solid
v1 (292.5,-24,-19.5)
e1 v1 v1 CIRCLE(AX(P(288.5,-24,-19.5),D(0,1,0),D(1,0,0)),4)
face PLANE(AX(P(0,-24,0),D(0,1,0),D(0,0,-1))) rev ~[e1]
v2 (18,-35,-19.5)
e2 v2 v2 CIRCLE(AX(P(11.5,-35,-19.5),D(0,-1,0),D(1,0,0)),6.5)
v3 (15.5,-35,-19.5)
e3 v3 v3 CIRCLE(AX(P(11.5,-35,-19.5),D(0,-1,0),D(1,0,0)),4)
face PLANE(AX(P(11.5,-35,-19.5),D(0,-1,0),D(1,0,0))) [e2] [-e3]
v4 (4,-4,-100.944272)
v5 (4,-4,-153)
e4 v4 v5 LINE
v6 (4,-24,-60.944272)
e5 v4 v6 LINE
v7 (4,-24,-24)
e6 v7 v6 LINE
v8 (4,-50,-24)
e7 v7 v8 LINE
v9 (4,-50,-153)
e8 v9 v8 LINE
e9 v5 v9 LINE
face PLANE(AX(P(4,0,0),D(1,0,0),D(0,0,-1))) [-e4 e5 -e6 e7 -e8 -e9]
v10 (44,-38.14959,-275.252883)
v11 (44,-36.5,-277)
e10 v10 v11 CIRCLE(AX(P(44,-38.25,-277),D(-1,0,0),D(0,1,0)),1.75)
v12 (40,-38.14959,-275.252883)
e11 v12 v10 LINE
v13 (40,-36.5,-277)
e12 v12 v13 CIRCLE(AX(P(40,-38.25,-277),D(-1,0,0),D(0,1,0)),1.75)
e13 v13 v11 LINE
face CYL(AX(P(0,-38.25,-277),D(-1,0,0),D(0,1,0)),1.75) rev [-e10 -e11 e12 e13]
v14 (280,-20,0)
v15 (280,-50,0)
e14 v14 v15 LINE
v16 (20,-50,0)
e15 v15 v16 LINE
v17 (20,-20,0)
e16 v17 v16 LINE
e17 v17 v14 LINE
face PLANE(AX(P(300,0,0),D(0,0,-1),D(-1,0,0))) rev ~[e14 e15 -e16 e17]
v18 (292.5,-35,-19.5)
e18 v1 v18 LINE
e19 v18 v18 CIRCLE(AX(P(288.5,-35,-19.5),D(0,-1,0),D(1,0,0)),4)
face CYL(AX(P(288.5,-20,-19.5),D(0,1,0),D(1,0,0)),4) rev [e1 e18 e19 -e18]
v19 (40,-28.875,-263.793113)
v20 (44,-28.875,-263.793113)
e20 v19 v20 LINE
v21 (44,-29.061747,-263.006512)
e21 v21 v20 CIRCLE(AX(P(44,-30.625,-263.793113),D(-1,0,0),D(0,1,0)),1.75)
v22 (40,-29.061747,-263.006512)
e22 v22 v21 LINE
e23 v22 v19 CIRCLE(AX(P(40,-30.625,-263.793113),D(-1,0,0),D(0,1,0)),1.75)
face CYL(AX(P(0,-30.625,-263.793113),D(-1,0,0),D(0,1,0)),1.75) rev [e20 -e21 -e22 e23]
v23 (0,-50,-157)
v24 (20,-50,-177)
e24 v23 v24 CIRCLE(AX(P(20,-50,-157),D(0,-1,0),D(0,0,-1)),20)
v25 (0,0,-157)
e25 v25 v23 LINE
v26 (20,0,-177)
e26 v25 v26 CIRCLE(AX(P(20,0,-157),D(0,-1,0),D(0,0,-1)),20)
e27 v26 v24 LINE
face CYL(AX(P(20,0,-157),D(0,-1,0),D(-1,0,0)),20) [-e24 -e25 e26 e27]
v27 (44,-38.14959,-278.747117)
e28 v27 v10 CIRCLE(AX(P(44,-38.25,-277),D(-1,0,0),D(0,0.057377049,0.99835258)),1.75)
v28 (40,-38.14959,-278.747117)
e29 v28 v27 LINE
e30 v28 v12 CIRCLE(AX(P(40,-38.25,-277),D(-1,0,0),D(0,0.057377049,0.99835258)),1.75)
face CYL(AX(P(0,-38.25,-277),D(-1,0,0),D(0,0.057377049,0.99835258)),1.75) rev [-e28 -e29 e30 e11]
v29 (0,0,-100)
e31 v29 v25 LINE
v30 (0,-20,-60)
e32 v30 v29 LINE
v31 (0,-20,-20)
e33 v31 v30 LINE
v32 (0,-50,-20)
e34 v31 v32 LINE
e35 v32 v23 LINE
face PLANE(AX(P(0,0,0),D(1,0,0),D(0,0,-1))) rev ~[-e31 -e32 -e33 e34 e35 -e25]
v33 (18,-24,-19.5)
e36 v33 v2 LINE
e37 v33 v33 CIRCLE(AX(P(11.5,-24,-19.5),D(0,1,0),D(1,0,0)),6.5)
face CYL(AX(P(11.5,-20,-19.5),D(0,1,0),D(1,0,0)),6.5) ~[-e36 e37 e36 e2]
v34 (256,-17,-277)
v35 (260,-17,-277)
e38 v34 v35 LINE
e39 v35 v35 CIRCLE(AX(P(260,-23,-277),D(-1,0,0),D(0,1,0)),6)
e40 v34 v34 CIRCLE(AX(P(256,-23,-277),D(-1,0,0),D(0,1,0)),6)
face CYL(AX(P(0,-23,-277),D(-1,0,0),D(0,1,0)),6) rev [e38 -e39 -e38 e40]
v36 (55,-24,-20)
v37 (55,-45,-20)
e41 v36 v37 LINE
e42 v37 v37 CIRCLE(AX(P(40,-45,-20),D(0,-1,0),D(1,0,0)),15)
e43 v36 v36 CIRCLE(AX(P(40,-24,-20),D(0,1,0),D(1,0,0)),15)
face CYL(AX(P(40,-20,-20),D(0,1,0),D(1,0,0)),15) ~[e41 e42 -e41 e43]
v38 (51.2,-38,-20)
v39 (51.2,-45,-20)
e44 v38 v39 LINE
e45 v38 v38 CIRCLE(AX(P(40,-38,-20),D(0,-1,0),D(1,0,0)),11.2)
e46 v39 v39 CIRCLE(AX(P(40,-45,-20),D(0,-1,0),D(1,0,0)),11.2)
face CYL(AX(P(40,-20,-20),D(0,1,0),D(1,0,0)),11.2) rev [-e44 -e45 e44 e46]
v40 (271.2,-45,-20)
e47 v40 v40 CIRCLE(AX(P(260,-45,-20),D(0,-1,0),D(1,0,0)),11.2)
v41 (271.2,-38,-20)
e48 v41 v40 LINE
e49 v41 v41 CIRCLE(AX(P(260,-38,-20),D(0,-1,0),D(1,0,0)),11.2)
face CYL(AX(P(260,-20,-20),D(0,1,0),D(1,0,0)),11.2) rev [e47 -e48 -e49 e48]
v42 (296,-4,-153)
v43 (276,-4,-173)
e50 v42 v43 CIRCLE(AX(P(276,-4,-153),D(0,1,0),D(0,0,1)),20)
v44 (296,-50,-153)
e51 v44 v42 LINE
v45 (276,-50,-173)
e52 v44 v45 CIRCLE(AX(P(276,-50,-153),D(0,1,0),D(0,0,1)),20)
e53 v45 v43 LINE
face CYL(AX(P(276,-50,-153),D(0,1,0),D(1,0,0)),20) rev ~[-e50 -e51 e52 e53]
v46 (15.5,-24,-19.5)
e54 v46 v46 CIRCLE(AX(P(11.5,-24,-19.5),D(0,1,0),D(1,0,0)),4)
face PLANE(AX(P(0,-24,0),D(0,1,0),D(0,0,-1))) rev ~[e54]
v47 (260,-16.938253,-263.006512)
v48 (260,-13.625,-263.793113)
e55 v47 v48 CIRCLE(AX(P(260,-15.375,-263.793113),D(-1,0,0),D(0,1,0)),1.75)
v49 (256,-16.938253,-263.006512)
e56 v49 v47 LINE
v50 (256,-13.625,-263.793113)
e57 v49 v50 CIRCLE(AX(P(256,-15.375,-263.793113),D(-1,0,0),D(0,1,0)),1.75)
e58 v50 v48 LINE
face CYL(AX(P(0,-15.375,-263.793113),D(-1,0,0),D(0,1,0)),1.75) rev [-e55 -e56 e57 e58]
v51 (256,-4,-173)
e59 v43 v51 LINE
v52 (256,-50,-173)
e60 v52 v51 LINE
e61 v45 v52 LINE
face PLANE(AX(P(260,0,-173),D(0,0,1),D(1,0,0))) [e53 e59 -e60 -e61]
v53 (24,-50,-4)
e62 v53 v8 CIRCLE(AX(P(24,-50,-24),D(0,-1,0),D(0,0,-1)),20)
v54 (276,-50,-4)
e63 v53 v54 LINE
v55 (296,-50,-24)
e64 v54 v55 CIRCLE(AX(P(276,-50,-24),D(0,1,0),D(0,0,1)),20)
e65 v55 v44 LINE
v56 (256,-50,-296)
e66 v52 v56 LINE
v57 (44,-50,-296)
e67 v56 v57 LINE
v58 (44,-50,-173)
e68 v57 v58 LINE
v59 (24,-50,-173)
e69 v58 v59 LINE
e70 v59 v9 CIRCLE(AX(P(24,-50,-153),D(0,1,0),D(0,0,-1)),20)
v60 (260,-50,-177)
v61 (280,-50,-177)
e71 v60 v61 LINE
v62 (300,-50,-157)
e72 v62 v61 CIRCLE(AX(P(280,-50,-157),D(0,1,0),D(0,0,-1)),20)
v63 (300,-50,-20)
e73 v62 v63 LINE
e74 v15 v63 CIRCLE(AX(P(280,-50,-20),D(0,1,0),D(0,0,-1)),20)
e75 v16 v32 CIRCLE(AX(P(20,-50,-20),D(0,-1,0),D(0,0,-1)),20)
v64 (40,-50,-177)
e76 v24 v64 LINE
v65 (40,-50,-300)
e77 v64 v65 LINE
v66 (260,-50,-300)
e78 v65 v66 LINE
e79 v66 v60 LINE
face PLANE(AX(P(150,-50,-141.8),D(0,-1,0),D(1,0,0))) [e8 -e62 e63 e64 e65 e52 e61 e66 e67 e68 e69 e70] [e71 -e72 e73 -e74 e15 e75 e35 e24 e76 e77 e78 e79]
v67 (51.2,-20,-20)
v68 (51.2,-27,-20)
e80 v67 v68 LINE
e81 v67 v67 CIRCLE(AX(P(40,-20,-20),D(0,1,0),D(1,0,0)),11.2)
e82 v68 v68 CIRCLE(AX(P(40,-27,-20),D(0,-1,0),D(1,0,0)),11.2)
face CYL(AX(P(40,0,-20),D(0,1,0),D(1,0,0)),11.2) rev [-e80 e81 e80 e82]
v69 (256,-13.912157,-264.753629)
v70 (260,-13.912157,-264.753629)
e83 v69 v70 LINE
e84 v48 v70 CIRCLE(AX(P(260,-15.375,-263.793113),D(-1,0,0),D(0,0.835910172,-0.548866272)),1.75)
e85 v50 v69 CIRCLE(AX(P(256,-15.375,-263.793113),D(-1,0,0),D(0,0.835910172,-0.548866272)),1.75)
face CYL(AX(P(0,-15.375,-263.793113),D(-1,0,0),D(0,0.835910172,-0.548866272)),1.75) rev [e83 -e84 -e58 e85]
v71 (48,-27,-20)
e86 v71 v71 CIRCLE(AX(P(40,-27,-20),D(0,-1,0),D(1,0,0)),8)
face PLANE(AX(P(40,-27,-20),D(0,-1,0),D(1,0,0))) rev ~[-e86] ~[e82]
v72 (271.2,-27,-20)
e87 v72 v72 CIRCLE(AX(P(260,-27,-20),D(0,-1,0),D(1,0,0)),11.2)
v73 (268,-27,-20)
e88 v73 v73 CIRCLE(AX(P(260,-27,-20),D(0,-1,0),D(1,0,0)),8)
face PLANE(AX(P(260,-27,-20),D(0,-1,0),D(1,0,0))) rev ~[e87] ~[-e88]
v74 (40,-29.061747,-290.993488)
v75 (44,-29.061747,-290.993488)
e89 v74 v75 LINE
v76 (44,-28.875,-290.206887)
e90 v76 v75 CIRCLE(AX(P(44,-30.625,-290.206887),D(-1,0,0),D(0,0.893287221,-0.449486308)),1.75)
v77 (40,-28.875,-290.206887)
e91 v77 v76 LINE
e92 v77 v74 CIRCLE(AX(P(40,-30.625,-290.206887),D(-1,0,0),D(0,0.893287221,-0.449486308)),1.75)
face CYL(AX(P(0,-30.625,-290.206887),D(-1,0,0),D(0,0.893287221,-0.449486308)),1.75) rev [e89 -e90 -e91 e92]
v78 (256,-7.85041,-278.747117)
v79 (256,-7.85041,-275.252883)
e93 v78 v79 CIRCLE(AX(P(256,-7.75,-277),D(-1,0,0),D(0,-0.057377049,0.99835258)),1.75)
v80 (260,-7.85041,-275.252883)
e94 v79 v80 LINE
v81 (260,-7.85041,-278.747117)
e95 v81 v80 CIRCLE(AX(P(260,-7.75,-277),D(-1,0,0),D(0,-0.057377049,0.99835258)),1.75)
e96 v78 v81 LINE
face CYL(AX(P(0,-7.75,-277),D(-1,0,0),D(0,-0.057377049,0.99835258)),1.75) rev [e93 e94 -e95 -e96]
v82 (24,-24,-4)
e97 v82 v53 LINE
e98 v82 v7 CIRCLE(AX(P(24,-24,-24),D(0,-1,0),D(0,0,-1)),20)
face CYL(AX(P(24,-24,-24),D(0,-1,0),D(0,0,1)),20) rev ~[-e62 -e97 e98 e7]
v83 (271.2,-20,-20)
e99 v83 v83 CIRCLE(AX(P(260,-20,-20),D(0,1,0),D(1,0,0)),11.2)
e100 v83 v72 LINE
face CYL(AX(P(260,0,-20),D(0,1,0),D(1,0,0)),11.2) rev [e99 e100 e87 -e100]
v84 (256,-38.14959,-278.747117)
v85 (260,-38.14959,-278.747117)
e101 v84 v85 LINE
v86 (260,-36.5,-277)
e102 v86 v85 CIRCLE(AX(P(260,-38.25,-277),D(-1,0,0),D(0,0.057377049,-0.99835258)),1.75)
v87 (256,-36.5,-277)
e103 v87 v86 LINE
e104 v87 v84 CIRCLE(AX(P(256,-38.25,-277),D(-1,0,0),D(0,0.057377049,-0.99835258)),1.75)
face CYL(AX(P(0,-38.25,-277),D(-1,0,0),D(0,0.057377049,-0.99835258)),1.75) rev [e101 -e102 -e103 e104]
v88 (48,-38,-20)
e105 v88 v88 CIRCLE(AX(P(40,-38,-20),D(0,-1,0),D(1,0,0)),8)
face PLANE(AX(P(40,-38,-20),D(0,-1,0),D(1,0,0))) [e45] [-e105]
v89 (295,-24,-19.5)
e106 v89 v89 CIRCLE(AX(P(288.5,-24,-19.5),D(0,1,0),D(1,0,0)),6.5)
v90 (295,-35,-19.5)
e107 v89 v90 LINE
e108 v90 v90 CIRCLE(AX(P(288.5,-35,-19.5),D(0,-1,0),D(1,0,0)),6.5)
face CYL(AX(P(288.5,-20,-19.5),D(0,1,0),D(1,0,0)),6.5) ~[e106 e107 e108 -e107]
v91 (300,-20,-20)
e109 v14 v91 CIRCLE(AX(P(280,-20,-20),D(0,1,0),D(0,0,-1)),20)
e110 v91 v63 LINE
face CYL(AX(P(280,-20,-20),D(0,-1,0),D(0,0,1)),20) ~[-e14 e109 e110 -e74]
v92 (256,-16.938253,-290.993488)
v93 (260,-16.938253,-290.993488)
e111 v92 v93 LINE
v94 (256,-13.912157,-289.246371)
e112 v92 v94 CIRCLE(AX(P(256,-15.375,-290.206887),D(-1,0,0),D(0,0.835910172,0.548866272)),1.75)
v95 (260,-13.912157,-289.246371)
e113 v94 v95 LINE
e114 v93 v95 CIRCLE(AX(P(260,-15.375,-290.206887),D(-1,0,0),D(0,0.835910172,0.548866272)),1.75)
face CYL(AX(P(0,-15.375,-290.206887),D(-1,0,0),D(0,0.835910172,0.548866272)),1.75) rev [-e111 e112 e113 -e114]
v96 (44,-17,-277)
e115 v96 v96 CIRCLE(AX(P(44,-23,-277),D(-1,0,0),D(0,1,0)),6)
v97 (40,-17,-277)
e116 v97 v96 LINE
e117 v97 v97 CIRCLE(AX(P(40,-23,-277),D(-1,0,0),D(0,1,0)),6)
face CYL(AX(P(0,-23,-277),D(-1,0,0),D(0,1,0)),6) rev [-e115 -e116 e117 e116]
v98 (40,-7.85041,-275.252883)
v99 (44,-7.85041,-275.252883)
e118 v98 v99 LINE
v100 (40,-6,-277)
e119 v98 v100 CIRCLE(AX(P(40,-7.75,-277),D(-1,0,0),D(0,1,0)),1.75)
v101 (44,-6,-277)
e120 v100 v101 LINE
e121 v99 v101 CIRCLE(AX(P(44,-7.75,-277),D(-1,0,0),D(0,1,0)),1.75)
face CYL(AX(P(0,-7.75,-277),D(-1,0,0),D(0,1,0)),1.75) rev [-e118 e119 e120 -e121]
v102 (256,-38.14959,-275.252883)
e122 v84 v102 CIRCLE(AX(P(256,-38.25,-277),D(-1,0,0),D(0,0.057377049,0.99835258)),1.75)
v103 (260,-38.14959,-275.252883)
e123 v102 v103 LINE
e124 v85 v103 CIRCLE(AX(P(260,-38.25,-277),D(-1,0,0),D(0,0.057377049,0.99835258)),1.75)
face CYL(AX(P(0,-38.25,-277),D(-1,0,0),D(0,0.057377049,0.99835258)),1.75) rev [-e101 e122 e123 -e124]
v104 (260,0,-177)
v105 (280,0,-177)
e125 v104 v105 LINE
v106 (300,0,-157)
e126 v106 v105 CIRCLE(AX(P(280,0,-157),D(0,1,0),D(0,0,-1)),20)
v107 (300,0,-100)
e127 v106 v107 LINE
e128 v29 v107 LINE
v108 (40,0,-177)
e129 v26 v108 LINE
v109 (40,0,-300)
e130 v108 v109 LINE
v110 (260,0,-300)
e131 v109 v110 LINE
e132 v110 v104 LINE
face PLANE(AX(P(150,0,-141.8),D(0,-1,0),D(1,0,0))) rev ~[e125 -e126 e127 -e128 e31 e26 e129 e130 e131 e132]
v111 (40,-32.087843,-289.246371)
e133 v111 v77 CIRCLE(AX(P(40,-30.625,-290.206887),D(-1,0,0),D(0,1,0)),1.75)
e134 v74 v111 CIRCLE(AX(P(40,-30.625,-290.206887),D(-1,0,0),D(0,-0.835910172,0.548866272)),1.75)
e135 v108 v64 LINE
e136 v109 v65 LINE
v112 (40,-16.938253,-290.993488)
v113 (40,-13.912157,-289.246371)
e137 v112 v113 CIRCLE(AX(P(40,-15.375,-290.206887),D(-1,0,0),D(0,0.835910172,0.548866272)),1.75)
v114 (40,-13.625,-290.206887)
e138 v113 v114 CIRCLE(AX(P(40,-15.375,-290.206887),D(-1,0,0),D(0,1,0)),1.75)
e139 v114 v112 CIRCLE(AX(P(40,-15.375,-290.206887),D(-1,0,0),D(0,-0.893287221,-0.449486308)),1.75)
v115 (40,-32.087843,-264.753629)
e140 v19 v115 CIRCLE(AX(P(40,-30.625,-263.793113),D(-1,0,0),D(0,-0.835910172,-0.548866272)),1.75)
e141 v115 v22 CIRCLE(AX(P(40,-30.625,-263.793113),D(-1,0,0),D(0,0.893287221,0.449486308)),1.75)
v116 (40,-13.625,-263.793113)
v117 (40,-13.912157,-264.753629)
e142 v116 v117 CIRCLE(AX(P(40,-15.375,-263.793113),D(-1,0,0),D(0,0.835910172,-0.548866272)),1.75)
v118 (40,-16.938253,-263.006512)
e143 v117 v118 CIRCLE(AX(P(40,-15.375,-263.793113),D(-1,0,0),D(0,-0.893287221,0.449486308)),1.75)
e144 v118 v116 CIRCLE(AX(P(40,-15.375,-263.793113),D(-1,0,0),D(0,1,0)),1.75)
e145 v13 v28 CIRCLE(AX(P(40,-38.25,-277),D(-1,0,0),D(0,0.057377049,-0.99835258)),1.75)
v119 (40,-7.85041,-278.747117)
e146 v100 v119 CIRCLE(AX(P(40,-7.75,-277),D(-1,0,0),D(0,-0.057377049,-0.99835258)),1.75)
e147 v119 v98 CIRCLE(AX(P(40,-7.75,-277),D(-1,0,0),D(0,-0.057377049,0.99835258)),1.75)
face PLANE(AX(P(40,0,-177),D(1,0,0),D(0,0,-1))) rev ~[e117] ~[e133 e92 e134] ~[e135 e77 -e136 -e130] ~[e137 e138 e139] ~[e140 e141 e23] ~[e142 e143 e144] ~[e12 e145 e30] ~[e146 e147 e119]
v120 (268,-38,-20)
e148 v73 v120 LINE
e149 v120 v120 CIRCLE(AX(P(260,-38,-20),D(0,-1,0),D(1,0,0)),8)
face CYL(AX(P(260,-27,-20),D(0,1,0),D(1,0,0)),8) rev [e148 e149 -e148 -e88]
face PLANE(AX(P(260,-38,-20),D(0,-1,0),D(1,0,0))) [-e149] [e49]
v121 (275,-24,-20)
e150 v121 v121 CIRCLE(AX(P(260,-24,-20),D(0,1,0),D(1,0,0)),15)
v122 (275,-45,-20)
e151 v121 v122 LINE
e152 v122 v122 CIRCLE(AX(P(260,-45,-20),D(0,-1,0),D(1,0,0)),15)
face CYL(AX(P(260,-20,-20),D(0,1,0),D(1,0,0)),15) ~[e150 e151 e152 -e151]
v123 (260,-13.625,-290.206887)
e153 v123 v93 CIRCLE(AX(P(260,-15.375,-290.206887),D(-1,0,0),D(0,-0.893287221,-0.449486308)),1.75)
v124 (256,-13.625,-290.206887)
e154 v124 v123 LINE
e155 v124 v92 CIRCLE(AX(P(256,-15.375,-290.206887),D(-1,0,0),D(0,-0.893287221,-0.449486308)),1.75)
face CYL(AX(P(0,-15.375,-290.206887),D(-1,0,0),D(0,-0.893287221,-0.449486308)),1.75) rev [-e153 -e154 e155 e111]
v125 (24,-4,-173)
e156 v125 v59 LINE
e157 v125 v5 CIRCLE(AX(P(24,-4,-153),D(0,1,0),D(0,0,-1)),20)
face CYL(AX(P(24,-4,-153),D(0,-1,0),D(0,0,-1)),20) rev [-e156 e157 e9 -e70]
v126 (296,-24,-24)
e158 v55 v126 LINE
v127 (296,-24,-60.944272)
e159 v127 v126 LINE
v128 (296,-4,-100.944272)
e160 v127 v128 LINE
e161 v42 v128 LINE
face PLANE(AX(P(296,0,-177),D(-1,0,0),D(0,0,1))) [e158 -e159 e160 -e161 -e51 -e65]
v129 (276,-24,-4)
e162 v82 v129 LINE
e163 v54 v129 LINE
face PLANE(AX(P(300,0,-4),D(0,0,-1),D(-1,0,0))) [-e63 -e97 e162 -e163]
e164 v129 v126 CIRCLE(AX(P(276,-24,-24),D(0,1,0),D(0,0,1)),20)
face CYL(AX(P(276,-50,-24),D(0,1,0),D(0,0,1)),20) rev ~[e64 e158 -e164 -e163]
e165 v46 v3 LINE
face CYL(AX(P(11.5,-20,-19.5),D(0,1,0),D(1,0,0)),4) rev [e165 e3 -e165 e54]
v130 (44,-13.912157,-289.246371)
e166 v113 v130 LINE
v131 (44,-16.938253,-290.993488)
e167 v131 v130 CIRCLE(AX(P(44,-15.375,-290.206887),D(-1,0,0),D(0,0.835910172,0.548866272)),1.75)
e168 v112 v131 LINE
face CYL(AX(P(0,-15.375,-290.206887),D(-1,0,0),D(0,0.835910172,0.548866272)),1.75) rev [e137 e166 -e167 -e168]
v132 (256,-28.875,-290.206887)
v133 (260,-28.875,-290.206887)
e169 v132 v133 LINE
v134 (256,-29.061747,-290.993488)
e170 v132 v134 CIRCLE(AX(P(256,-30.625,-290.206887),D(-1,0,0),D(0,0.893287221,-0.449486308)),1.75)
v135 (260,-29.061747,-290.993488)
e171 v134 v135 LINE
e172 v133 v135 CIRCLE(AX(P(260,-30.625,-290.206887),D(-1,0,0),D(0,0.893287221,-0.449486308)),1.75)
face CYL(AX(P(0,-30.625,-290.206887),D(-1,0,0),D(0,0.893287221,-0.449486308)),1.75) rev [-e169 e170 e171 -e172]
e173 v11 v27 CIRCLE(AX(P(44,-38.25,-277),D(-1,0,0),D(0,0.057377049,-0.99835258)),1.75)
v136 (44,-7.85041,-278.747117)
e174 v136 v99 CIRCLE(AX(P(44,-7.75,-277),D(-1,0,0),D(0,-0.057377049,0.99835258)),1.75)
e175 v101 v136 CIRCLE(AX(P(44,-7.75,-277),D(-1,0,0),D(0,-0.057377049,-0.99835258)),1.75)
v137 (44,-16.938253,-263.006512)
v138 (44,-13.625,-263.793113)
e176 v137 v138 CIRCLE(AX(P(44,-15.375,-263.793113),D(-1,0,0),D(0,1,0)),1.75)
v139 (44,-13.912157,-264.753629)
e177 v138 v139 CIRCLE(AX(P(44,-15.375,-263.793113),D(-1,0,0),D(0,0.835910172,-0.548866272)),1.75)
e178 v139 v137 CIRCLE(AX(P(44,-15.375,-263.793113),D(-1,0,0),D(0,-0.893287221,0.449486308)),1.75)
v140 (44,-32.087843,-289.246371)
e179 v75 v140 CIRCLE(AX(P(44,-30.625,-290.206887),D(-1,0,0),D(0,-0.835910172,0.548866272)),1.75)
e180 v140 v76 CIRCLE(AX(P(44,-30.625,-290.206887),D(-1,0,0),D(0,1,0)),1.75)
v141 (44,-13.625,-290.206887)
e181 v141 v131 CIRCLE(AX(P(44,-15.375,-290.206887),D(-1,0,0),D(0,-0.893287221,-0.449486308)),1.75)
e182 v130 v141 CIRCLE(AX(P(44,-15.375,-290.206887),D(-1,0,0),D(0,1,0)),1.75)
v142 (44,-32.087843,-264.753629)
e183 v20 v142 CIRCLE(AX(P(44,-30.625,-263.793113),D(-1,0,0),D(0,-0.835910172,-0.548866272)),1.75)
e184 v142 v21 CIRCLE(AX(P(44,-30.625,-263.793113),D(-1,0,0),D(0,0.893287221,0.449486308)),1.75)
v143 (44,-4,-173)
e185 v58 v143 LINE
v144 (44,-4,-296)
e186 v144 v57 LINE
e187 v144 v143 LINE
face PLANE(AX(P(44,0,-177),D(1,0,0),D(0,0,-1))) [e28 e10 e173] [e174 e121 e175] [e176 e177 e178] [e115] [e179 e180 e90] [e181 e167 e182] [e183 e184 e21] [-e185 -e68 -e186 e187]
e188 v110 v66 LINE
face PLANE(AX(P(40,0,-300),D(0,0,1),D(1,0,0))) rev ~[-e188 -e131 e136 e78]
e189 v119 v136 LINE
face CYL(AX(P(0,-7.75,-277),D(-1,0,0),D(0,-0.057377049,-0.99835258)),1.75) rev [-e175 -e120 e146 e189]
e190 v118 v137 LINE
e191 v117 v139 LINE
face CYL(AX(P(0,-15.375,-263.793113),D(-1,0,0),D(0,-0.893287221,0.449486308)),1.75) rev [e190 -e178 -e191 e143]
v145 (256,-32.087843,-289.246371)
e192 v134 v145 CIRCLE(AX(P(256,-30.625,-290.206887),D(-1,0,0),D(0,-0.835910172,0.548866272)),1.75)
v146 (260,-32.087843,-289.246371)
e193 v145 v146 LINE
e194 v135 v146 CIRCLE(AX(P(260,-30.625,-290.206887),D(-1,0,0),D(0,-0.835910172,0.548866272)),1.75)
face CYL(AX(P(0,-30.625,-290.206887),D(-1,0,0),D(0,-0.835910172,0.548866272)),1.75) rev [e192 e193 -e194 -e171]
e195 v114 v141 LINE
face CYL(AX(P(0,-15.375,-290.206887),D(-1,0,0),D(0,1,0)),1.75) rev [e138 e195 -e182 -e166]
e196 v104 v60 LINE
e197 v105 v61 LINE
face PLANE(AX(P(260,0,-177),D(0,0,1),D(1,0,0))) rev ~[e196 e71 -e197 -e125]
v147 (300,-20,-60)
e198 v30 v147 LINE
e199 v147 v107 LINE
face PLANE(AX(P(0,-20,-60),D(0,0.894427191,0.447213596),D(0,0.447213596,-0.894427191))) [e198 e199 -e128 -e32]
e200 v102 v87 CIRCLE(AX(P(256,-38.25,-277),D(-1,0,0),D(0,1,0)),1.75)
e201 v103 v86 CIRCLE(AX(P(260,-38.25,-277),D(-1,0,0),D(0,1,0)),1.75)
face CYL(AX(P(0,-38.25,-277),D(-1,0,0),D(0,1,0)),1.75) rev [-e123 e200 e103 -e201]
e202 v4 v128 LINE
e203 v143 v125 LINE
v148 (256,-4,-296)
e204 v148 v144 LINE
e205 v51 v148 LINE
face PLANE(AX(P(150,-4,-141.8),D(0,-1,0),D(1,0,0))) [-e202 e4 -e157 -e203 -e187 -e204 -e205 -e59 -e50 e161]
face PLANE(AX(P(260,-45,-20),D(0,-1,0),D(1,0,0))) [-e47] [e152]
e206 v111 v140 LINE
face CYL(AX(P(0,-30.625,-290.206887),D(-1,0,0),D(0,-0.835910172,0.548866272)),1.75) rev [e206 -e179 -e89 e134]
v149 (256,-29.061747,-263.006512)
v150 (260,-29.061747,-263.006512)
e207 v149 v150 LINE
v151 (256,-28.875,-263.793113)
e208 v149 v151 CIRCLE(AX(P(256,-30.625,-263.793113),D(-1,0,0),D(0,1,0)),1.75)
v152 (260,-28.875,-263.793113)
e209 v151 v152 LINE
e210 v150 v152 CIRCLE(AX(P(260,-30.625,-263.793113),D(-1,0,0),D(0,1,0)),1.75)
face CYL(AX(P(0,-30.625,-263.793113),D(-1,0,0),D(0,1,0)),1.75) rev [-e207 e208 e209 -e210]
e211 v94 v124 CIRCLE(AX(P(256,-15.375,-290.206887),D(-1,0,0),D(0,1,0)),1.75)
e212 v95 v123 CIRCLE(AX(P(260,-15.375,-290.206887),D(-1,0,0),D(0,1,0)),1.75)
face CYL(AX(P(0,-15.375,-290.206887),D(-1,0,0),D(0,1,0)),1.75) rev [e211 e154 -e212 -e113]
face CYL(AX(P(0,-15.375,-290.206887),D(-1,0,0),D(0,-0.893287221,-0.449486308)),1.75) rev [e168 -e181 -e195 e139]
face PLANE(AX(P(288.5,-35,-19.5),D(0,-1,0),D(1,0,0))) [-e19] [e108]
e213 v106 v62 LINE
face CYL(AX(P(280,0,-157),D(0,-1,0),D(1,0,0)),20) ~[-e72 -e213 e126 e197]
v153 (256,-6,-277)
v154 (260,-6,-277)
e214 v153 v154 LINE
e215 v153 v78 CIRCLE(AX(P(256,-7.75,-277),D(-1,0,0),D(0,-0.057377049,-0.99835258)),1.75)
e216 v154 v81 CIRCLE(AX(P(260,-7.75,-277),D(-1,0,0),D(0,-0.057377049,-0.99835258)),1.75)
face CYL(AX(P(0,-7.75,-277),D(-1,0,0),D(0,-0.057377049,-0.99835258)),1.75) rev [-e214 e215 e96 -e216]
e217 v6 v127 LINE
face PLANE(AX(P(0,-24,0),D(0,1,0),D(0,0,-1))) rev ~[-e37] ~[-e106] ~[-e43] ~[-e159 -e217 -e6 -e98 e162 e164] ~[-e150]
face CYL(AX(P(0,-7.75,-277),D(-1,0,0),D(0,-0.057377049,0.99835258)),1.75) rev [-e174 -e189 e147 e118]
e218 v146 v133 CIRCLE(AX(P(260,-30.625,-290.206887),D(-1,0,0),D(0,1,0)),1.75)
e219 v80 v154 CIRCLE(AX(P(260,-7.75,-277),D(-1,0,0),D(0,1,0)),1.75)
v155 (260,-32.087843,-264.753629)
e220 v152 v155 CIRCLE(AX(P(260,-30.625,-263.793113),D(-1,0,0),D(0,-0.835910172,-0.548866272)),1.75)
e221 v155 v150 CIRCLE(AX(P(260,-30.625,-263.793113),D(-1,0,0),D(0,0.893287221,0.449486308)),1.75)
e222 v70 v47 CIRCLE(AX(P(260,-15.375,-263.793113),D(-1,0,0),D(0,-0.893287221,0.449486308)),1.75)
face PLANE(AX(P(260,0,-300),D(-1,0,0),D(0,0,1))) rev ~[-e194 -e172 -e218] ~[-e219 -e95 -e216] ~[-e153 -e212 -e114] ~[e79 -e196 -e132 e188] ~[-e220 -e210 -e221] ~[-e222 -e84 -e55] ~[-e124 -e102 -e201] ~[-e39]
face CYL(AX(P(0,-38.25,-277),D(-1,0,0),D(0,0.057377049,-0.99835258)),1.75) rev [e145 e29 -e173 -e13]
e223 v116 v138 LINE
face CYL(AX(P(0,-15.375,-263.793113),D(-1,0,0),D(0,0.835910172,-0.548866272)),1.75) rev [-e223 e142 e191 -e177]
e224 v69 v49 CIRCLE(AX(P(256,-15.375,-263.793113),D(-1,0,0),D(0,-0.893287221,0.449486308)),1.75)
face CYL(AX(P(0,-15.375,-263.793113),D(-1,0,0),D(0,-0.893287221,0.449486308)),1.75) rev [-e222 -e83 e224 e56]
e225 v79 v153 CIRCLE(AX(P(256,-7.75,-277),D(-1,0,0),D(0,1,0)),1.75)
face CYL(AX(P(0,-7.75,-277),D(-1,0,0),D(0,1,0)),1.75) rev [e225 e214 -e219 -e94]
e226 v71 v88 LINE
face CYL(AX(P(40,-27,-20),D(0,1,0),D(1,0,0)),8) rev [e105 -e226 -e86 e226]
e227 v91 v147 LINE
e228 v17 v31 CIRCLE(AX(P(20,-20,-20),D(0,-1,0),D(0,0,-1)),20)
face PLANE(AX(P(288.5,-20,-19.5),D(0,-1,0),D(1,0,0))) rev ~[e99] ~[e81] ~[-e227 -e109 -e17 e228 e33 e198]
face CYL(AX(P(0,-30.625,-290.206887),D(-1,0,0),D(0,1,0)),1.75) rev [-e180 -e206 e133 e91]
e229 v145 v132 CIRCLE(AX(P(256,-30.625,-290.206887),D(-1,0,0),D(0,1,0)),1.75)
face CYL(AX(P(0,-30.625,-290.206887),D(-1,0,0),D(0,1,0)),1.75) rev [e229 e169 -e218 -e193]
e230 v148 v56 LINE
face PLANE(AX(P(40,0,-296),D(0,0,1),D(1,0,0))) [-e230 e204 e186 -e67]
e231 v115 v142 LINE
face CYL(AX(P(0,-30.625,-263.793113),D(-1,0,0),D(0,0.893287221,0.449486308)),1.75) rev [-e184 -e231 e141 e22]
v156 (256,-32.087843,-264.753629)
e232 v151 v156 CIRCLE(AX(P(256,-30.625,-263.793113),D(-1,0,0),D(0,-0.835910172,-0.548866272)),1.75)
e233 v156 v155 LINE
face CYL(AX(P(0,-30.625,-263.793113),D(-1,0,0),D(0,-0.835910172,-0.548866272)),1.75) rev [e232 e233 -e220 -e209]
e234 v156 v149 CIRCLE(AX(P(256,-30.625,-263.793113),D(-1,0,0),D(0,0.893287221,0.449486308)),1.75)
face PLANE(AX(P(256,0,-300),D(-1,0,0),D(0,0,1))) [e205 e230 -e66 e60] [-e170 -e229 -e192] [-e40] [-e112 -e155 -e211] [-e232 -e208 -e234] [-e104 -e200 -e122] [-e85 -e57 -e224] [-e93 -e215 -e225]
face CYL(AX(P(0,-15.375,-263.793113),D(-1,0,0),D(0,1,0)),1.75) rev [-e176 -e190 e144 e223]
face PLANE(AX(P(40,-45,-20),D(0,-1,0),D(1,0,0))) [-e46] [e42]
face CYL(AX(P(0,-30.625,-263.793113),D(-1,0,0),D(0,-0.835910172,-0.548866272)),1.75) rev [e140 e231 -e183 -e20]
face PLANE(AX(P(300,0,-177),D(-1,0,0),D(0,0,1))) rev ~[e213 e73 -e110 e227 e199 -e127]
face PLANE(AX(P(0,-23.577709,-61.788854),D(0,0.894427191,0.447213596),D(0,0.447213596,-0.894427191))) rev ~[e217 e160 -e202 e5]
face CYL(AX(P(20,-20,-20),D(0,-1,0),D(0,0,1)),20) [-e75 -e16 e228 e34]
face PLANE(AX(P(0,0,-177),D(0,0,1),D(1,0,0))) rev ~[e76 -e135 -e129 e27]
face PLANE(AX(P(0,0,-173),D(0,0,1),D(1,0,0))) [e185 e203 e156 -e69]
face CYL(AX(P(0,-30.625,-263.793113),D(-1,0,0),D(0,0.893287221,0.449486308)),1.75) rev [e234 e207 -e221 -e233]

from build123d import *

# Parameters (mm, degrees)
F1_DEPTH  = 50
F3_DEPTH  = 333
F4_T      = -4
F5_R      = 6
F6_DEPTH  = 302.7
F7_R      = 20
F9_START  = 20
F8_R      = 15
F8_R_2    = 11.2
F9_DEPTH  = 25
F10_START = 27
F8_R_3    = 8
F10_DEPTH = 11
F11_DEPTH = 117.9
F12_DEPTH = 24
F14_START = 20
F13_R     = 6.5
F13_R_2   = 4
F14_DEPTH = 15


with BuildPart() as f1:
    # F0 (on Front) → F1 (new body)
    with BuildSketch(Plane.XZ):
        Polygon((300, 0), (0, 0), (0, -177), (40, -177), (40, -300), (260, -300), (260, -177), (300, -177), align=None)
    extrude(amount=F1_DEPTH)

    # F2 (on Right) → F3 (cut)
    with BuildSketch(Plane.YZ):
        Polygon((0, 0), (-20, 0), (-20, -60), (0, -100), align=None)
    extrude(amount=F3_DEPTH, mode=Mode.SUBTRACT)

    # F4
    f4_openings = [f1.faces().sort_by_distance(p)[0] for p in [
        (150, -50, -139.136228),
    ]]
    offset(amount=F4_T, openings=f4_openings, kind=Kind.INTERSECTION)

    # F5 (on Right) → F6 (cut)
    with BuildSketch(Plane.YZ):
        with BuildLine():
            ThreePointArc((-7.8504098361, -275.2528829848), (-7.7751231532, -276.125), (-7.75, -277))
            ThreePointArc((-7.75, -277), (-7.7751231532, -277.875), (-7.8504098361, -278.7471170152))
            ThreePointArc((-7.8504098361, -278.7471170152), (-6.5485877504, -278.2724419855), (-6, -277))
            ThreePointArc((-6, -277), (-6.5485877504, -275.7275580145), (-7.8504098361, -275.2528829848))
        make_face()
        with BuildLine():
            ThreePointArc((-16.9382526366, -263.0065115535), (-15.375, -263.7931125923), (-13.9121571995, -264.7536285687))
            ThreePointArc((-13.9121571995, -264.7536285687), (-13.6983254787, -264.2943735518), (-13.625, -263.7931125923))
            ThreePointArc((-13.625, -263.7931125923), (-14.9707674642, -262.0904393832), (-16.9382526366, -263.0065115535))
        make_face()
        with BuildLine():
            ThreePointArc((-7.8504098361, -278.7471170152), (-7.7751231532, -277.875), (-7.75, -277))
            ThreePointArc((-7.75, -277), (-7.7751231532, -276.125), (-7.8504098361, -275.2528829848))
            ThreePointArc((-7.8504098361, -275.2528829848), (-9.5, -277), (-7.8504098361, -278.7471170152))
        make_face()
        with BuildLine():
            ThreePointArc((-16.9382526366, -263.0065115535), (-16.25, -265.3086570489), (-13.9121571995, -264.7536285687))
            ThreePointArc((-13.9121571995, -264.7536285687), (-15.375, -263.7931125923), (-16.9382526366, -263.0065115535))
        make_face()
        with BuildLine():
            ThreePointArc((-32.0878428005, -264.7536285687), (-30.625, -263.7931125923), (-29.0617473634, -263.0065115535))
            ThreePointArc((-29.0617473634, -263.0065115535), (-31.5, -262.2775681357), (-32.0878428005, -264.7536285687))
        make_face()
        with BuildLine():
            ThreePointArc((-28.875, -263.7931125923), (-28.9223267909, -263.3888800565), (-29.0617473634, -263.0065115535))
            ThreePointArc((-29.0617473634, -263.0065115535), (-30.625, -263.7931125923), (-32.0878428005, -264.7536285687))
            ThreePointArc((-32.0878428005, -264.7536285687), (-30.1237390405, -265.4697871136), (-28.875, -263.7931125923))
        make_face()
        with BuildLine():
            ThreePointArc((-38.1495901639, -278.7471170152), (-38.25, -277), (-38.1495901639, -275.2528829848))
            ThreePointArc((-38.1495901639, -275.2528829848), (-40, -277), (-38.1495901639, -278.7471170152))
        make_face()
        with BuildLine():
            ThreePointArc((-36.5, -277), (-36.9775580145, -275.7985877504), (-38.1495901639, -275.2528829848))
            ThreePointArc((-38.1495901639, -275.2528829848), (-38.25, -277), (-38.1495901639, -278.7471170152))
            ThreePointArc((-38.1495901639, -278.7471170152), (-36.9775580145, -278.2014122496), (-36.5, -277))
        make_face()
        with BuildLine():
            ThreePointArc((-32.0878428005, -289.2463714313), (-31.5, -291.7224318643), (-29.0617473634, -290.9934884465))
            ThreePointArc((-29.0617473634, -290.9934884465), (-30.625, -290.2068874077), (-32.0878428005, -289.2463714313))
        make_face()
        with BuildLine():
            ThreePointArc((-32.0878428005, -289.2463714313), (-30.625, -290.2068874077), (-29.0617473634, -290.9934884465))
            ThreePointArc((-29.0617473634, -290.9934884465), (-28.9223267909, -290.6111199435), (-28.875, -290.2068874077))
            ThreePointArc((-28.875, -290.2068874077), (-30.1237390405, -288.5302128864), (-32.0878428005, -289.2463714313))
        make_face()
        with BuildLine():
            ThreePointArc((-13.625, -290.2068874077), (-13.6983254787, -289.7056264482), (-13.9121571995, -289.2463714313))
            ThreePointArc((-13.9121571995, -289.2463714313), (-15.375, -290.2068874077), (-16.9382526366, -290.9934884465))
            ThreePointArc((-16.9382526366, -290.9934884465), (-14.9707674642, -291.9095606168), (-13.625, -290.2068874077))
        make_face()
        with BuildLine():
            ThreePointArc((-16.9382526366, -290.9934884465), (-15.375, -290.2068874077), (-13.9121571995, -289.2463714313))
            ThreePointArc((-13.9121571995, -289.2463714313), (-16.25, -288.6913429511), (-16.9382526366, -290.9934884465))
        make_face()
        with Locations((-23, -277)):
            Circle(F5_R)
    extrude(amount=F6_DEPTH, mode=Mode.SUBTRACT)

    # F7
    f7_edges = [f1.edges().sort_by_distance(p)[0] for p in [
        (300, -25, -177),
        (296, -27, -173),
        (4, -27, -173),
        (0, -25, -177),
        (300, -35, 0),
        (296, -37, -4),
        (0, -35, 0),
        (4, -37, -4),
    ]]
    fillet(f7_edges, radius=F7_R)

    # F8 (on Front) → F9 (join)
    with BuildSketch(Plane.XZ.offset(F9_START)):
        with Locations((40, -20)):
            Circle(F8_R)
        with Locations((40, -20)):
            Circle(F8_R_2, mode=Mode.SUBTRACT)
        with Locations((260, -20)):
            Circle(F8_R)
        with Locations((260, -20)):
            Circle(F8_R_2, mode=Mode.SUBTRACT)
    extrude(amount=F9_DEPTH)

    # F8 (on Front) → F10 (join)
    with BuildSketch(Plane.XZ.offset(F10_START)):
        with Locations((40, -20)):
            Circle(F8_R_2)
        with Locations((40, -20)):
            Circle(F8_R_3, mode=Mode.SUBTRACT)
        with Locations((260, -20)):
            Circle(F8_R_2)
        with Locations((260, -20)):
            Circle(F8_R_3, mode=Mode.SUBTRACT)
    extrude(amount=F10_DEPTH)

    # F8 (on Front) → F11 (cut)
    with BuildSketch(Plane.XZ):
        with Locations((40, -20)):
            Circle(F8_R_3)
        with Locations((260, -20)):
            Circle(F8_R_3)
    extrude(amount=F11_DEPTH, mode=Mode.SUBTRACT)

    # F8 (on Front) → F12 (cut)
    with BuildSketch(Plane.XZ):
        with Locations((40, -20)):
            Circle(F8_R_2)
        with Locations((40, -20)):
            Circle(F8_R_3, mode=Mode.SUBTRACT)
        with Locations((260, -20)):
            Circle(F8_R_2)
        with Locations((260, -20)):
            Circle(F8_R_3, mode=Mode.SUBTRACT)
    extrude(amount=F12_DEPTH, mode=Mode.SUBTRACT)

    # F13 (on Front) → F14 (join)
    with BuildSketch(Plane.XZ.offset(F14_START)):
        with Locations((288.5, -19.5)):
            Circle(F13_R)
        with Locations((288.5, -19.5)):
            Circle(F13_R_2, mode=Mode.SUBTRACT)
        with Locations((11.5, -19.5)):
            Circle(F13_R)
        with Locations((11.5, -19.5)):
            Circle(F13_R_2, mode=Mode.SUBTRACT)
    extrude(amount=F14_DEPTH)


solid = f1.part
